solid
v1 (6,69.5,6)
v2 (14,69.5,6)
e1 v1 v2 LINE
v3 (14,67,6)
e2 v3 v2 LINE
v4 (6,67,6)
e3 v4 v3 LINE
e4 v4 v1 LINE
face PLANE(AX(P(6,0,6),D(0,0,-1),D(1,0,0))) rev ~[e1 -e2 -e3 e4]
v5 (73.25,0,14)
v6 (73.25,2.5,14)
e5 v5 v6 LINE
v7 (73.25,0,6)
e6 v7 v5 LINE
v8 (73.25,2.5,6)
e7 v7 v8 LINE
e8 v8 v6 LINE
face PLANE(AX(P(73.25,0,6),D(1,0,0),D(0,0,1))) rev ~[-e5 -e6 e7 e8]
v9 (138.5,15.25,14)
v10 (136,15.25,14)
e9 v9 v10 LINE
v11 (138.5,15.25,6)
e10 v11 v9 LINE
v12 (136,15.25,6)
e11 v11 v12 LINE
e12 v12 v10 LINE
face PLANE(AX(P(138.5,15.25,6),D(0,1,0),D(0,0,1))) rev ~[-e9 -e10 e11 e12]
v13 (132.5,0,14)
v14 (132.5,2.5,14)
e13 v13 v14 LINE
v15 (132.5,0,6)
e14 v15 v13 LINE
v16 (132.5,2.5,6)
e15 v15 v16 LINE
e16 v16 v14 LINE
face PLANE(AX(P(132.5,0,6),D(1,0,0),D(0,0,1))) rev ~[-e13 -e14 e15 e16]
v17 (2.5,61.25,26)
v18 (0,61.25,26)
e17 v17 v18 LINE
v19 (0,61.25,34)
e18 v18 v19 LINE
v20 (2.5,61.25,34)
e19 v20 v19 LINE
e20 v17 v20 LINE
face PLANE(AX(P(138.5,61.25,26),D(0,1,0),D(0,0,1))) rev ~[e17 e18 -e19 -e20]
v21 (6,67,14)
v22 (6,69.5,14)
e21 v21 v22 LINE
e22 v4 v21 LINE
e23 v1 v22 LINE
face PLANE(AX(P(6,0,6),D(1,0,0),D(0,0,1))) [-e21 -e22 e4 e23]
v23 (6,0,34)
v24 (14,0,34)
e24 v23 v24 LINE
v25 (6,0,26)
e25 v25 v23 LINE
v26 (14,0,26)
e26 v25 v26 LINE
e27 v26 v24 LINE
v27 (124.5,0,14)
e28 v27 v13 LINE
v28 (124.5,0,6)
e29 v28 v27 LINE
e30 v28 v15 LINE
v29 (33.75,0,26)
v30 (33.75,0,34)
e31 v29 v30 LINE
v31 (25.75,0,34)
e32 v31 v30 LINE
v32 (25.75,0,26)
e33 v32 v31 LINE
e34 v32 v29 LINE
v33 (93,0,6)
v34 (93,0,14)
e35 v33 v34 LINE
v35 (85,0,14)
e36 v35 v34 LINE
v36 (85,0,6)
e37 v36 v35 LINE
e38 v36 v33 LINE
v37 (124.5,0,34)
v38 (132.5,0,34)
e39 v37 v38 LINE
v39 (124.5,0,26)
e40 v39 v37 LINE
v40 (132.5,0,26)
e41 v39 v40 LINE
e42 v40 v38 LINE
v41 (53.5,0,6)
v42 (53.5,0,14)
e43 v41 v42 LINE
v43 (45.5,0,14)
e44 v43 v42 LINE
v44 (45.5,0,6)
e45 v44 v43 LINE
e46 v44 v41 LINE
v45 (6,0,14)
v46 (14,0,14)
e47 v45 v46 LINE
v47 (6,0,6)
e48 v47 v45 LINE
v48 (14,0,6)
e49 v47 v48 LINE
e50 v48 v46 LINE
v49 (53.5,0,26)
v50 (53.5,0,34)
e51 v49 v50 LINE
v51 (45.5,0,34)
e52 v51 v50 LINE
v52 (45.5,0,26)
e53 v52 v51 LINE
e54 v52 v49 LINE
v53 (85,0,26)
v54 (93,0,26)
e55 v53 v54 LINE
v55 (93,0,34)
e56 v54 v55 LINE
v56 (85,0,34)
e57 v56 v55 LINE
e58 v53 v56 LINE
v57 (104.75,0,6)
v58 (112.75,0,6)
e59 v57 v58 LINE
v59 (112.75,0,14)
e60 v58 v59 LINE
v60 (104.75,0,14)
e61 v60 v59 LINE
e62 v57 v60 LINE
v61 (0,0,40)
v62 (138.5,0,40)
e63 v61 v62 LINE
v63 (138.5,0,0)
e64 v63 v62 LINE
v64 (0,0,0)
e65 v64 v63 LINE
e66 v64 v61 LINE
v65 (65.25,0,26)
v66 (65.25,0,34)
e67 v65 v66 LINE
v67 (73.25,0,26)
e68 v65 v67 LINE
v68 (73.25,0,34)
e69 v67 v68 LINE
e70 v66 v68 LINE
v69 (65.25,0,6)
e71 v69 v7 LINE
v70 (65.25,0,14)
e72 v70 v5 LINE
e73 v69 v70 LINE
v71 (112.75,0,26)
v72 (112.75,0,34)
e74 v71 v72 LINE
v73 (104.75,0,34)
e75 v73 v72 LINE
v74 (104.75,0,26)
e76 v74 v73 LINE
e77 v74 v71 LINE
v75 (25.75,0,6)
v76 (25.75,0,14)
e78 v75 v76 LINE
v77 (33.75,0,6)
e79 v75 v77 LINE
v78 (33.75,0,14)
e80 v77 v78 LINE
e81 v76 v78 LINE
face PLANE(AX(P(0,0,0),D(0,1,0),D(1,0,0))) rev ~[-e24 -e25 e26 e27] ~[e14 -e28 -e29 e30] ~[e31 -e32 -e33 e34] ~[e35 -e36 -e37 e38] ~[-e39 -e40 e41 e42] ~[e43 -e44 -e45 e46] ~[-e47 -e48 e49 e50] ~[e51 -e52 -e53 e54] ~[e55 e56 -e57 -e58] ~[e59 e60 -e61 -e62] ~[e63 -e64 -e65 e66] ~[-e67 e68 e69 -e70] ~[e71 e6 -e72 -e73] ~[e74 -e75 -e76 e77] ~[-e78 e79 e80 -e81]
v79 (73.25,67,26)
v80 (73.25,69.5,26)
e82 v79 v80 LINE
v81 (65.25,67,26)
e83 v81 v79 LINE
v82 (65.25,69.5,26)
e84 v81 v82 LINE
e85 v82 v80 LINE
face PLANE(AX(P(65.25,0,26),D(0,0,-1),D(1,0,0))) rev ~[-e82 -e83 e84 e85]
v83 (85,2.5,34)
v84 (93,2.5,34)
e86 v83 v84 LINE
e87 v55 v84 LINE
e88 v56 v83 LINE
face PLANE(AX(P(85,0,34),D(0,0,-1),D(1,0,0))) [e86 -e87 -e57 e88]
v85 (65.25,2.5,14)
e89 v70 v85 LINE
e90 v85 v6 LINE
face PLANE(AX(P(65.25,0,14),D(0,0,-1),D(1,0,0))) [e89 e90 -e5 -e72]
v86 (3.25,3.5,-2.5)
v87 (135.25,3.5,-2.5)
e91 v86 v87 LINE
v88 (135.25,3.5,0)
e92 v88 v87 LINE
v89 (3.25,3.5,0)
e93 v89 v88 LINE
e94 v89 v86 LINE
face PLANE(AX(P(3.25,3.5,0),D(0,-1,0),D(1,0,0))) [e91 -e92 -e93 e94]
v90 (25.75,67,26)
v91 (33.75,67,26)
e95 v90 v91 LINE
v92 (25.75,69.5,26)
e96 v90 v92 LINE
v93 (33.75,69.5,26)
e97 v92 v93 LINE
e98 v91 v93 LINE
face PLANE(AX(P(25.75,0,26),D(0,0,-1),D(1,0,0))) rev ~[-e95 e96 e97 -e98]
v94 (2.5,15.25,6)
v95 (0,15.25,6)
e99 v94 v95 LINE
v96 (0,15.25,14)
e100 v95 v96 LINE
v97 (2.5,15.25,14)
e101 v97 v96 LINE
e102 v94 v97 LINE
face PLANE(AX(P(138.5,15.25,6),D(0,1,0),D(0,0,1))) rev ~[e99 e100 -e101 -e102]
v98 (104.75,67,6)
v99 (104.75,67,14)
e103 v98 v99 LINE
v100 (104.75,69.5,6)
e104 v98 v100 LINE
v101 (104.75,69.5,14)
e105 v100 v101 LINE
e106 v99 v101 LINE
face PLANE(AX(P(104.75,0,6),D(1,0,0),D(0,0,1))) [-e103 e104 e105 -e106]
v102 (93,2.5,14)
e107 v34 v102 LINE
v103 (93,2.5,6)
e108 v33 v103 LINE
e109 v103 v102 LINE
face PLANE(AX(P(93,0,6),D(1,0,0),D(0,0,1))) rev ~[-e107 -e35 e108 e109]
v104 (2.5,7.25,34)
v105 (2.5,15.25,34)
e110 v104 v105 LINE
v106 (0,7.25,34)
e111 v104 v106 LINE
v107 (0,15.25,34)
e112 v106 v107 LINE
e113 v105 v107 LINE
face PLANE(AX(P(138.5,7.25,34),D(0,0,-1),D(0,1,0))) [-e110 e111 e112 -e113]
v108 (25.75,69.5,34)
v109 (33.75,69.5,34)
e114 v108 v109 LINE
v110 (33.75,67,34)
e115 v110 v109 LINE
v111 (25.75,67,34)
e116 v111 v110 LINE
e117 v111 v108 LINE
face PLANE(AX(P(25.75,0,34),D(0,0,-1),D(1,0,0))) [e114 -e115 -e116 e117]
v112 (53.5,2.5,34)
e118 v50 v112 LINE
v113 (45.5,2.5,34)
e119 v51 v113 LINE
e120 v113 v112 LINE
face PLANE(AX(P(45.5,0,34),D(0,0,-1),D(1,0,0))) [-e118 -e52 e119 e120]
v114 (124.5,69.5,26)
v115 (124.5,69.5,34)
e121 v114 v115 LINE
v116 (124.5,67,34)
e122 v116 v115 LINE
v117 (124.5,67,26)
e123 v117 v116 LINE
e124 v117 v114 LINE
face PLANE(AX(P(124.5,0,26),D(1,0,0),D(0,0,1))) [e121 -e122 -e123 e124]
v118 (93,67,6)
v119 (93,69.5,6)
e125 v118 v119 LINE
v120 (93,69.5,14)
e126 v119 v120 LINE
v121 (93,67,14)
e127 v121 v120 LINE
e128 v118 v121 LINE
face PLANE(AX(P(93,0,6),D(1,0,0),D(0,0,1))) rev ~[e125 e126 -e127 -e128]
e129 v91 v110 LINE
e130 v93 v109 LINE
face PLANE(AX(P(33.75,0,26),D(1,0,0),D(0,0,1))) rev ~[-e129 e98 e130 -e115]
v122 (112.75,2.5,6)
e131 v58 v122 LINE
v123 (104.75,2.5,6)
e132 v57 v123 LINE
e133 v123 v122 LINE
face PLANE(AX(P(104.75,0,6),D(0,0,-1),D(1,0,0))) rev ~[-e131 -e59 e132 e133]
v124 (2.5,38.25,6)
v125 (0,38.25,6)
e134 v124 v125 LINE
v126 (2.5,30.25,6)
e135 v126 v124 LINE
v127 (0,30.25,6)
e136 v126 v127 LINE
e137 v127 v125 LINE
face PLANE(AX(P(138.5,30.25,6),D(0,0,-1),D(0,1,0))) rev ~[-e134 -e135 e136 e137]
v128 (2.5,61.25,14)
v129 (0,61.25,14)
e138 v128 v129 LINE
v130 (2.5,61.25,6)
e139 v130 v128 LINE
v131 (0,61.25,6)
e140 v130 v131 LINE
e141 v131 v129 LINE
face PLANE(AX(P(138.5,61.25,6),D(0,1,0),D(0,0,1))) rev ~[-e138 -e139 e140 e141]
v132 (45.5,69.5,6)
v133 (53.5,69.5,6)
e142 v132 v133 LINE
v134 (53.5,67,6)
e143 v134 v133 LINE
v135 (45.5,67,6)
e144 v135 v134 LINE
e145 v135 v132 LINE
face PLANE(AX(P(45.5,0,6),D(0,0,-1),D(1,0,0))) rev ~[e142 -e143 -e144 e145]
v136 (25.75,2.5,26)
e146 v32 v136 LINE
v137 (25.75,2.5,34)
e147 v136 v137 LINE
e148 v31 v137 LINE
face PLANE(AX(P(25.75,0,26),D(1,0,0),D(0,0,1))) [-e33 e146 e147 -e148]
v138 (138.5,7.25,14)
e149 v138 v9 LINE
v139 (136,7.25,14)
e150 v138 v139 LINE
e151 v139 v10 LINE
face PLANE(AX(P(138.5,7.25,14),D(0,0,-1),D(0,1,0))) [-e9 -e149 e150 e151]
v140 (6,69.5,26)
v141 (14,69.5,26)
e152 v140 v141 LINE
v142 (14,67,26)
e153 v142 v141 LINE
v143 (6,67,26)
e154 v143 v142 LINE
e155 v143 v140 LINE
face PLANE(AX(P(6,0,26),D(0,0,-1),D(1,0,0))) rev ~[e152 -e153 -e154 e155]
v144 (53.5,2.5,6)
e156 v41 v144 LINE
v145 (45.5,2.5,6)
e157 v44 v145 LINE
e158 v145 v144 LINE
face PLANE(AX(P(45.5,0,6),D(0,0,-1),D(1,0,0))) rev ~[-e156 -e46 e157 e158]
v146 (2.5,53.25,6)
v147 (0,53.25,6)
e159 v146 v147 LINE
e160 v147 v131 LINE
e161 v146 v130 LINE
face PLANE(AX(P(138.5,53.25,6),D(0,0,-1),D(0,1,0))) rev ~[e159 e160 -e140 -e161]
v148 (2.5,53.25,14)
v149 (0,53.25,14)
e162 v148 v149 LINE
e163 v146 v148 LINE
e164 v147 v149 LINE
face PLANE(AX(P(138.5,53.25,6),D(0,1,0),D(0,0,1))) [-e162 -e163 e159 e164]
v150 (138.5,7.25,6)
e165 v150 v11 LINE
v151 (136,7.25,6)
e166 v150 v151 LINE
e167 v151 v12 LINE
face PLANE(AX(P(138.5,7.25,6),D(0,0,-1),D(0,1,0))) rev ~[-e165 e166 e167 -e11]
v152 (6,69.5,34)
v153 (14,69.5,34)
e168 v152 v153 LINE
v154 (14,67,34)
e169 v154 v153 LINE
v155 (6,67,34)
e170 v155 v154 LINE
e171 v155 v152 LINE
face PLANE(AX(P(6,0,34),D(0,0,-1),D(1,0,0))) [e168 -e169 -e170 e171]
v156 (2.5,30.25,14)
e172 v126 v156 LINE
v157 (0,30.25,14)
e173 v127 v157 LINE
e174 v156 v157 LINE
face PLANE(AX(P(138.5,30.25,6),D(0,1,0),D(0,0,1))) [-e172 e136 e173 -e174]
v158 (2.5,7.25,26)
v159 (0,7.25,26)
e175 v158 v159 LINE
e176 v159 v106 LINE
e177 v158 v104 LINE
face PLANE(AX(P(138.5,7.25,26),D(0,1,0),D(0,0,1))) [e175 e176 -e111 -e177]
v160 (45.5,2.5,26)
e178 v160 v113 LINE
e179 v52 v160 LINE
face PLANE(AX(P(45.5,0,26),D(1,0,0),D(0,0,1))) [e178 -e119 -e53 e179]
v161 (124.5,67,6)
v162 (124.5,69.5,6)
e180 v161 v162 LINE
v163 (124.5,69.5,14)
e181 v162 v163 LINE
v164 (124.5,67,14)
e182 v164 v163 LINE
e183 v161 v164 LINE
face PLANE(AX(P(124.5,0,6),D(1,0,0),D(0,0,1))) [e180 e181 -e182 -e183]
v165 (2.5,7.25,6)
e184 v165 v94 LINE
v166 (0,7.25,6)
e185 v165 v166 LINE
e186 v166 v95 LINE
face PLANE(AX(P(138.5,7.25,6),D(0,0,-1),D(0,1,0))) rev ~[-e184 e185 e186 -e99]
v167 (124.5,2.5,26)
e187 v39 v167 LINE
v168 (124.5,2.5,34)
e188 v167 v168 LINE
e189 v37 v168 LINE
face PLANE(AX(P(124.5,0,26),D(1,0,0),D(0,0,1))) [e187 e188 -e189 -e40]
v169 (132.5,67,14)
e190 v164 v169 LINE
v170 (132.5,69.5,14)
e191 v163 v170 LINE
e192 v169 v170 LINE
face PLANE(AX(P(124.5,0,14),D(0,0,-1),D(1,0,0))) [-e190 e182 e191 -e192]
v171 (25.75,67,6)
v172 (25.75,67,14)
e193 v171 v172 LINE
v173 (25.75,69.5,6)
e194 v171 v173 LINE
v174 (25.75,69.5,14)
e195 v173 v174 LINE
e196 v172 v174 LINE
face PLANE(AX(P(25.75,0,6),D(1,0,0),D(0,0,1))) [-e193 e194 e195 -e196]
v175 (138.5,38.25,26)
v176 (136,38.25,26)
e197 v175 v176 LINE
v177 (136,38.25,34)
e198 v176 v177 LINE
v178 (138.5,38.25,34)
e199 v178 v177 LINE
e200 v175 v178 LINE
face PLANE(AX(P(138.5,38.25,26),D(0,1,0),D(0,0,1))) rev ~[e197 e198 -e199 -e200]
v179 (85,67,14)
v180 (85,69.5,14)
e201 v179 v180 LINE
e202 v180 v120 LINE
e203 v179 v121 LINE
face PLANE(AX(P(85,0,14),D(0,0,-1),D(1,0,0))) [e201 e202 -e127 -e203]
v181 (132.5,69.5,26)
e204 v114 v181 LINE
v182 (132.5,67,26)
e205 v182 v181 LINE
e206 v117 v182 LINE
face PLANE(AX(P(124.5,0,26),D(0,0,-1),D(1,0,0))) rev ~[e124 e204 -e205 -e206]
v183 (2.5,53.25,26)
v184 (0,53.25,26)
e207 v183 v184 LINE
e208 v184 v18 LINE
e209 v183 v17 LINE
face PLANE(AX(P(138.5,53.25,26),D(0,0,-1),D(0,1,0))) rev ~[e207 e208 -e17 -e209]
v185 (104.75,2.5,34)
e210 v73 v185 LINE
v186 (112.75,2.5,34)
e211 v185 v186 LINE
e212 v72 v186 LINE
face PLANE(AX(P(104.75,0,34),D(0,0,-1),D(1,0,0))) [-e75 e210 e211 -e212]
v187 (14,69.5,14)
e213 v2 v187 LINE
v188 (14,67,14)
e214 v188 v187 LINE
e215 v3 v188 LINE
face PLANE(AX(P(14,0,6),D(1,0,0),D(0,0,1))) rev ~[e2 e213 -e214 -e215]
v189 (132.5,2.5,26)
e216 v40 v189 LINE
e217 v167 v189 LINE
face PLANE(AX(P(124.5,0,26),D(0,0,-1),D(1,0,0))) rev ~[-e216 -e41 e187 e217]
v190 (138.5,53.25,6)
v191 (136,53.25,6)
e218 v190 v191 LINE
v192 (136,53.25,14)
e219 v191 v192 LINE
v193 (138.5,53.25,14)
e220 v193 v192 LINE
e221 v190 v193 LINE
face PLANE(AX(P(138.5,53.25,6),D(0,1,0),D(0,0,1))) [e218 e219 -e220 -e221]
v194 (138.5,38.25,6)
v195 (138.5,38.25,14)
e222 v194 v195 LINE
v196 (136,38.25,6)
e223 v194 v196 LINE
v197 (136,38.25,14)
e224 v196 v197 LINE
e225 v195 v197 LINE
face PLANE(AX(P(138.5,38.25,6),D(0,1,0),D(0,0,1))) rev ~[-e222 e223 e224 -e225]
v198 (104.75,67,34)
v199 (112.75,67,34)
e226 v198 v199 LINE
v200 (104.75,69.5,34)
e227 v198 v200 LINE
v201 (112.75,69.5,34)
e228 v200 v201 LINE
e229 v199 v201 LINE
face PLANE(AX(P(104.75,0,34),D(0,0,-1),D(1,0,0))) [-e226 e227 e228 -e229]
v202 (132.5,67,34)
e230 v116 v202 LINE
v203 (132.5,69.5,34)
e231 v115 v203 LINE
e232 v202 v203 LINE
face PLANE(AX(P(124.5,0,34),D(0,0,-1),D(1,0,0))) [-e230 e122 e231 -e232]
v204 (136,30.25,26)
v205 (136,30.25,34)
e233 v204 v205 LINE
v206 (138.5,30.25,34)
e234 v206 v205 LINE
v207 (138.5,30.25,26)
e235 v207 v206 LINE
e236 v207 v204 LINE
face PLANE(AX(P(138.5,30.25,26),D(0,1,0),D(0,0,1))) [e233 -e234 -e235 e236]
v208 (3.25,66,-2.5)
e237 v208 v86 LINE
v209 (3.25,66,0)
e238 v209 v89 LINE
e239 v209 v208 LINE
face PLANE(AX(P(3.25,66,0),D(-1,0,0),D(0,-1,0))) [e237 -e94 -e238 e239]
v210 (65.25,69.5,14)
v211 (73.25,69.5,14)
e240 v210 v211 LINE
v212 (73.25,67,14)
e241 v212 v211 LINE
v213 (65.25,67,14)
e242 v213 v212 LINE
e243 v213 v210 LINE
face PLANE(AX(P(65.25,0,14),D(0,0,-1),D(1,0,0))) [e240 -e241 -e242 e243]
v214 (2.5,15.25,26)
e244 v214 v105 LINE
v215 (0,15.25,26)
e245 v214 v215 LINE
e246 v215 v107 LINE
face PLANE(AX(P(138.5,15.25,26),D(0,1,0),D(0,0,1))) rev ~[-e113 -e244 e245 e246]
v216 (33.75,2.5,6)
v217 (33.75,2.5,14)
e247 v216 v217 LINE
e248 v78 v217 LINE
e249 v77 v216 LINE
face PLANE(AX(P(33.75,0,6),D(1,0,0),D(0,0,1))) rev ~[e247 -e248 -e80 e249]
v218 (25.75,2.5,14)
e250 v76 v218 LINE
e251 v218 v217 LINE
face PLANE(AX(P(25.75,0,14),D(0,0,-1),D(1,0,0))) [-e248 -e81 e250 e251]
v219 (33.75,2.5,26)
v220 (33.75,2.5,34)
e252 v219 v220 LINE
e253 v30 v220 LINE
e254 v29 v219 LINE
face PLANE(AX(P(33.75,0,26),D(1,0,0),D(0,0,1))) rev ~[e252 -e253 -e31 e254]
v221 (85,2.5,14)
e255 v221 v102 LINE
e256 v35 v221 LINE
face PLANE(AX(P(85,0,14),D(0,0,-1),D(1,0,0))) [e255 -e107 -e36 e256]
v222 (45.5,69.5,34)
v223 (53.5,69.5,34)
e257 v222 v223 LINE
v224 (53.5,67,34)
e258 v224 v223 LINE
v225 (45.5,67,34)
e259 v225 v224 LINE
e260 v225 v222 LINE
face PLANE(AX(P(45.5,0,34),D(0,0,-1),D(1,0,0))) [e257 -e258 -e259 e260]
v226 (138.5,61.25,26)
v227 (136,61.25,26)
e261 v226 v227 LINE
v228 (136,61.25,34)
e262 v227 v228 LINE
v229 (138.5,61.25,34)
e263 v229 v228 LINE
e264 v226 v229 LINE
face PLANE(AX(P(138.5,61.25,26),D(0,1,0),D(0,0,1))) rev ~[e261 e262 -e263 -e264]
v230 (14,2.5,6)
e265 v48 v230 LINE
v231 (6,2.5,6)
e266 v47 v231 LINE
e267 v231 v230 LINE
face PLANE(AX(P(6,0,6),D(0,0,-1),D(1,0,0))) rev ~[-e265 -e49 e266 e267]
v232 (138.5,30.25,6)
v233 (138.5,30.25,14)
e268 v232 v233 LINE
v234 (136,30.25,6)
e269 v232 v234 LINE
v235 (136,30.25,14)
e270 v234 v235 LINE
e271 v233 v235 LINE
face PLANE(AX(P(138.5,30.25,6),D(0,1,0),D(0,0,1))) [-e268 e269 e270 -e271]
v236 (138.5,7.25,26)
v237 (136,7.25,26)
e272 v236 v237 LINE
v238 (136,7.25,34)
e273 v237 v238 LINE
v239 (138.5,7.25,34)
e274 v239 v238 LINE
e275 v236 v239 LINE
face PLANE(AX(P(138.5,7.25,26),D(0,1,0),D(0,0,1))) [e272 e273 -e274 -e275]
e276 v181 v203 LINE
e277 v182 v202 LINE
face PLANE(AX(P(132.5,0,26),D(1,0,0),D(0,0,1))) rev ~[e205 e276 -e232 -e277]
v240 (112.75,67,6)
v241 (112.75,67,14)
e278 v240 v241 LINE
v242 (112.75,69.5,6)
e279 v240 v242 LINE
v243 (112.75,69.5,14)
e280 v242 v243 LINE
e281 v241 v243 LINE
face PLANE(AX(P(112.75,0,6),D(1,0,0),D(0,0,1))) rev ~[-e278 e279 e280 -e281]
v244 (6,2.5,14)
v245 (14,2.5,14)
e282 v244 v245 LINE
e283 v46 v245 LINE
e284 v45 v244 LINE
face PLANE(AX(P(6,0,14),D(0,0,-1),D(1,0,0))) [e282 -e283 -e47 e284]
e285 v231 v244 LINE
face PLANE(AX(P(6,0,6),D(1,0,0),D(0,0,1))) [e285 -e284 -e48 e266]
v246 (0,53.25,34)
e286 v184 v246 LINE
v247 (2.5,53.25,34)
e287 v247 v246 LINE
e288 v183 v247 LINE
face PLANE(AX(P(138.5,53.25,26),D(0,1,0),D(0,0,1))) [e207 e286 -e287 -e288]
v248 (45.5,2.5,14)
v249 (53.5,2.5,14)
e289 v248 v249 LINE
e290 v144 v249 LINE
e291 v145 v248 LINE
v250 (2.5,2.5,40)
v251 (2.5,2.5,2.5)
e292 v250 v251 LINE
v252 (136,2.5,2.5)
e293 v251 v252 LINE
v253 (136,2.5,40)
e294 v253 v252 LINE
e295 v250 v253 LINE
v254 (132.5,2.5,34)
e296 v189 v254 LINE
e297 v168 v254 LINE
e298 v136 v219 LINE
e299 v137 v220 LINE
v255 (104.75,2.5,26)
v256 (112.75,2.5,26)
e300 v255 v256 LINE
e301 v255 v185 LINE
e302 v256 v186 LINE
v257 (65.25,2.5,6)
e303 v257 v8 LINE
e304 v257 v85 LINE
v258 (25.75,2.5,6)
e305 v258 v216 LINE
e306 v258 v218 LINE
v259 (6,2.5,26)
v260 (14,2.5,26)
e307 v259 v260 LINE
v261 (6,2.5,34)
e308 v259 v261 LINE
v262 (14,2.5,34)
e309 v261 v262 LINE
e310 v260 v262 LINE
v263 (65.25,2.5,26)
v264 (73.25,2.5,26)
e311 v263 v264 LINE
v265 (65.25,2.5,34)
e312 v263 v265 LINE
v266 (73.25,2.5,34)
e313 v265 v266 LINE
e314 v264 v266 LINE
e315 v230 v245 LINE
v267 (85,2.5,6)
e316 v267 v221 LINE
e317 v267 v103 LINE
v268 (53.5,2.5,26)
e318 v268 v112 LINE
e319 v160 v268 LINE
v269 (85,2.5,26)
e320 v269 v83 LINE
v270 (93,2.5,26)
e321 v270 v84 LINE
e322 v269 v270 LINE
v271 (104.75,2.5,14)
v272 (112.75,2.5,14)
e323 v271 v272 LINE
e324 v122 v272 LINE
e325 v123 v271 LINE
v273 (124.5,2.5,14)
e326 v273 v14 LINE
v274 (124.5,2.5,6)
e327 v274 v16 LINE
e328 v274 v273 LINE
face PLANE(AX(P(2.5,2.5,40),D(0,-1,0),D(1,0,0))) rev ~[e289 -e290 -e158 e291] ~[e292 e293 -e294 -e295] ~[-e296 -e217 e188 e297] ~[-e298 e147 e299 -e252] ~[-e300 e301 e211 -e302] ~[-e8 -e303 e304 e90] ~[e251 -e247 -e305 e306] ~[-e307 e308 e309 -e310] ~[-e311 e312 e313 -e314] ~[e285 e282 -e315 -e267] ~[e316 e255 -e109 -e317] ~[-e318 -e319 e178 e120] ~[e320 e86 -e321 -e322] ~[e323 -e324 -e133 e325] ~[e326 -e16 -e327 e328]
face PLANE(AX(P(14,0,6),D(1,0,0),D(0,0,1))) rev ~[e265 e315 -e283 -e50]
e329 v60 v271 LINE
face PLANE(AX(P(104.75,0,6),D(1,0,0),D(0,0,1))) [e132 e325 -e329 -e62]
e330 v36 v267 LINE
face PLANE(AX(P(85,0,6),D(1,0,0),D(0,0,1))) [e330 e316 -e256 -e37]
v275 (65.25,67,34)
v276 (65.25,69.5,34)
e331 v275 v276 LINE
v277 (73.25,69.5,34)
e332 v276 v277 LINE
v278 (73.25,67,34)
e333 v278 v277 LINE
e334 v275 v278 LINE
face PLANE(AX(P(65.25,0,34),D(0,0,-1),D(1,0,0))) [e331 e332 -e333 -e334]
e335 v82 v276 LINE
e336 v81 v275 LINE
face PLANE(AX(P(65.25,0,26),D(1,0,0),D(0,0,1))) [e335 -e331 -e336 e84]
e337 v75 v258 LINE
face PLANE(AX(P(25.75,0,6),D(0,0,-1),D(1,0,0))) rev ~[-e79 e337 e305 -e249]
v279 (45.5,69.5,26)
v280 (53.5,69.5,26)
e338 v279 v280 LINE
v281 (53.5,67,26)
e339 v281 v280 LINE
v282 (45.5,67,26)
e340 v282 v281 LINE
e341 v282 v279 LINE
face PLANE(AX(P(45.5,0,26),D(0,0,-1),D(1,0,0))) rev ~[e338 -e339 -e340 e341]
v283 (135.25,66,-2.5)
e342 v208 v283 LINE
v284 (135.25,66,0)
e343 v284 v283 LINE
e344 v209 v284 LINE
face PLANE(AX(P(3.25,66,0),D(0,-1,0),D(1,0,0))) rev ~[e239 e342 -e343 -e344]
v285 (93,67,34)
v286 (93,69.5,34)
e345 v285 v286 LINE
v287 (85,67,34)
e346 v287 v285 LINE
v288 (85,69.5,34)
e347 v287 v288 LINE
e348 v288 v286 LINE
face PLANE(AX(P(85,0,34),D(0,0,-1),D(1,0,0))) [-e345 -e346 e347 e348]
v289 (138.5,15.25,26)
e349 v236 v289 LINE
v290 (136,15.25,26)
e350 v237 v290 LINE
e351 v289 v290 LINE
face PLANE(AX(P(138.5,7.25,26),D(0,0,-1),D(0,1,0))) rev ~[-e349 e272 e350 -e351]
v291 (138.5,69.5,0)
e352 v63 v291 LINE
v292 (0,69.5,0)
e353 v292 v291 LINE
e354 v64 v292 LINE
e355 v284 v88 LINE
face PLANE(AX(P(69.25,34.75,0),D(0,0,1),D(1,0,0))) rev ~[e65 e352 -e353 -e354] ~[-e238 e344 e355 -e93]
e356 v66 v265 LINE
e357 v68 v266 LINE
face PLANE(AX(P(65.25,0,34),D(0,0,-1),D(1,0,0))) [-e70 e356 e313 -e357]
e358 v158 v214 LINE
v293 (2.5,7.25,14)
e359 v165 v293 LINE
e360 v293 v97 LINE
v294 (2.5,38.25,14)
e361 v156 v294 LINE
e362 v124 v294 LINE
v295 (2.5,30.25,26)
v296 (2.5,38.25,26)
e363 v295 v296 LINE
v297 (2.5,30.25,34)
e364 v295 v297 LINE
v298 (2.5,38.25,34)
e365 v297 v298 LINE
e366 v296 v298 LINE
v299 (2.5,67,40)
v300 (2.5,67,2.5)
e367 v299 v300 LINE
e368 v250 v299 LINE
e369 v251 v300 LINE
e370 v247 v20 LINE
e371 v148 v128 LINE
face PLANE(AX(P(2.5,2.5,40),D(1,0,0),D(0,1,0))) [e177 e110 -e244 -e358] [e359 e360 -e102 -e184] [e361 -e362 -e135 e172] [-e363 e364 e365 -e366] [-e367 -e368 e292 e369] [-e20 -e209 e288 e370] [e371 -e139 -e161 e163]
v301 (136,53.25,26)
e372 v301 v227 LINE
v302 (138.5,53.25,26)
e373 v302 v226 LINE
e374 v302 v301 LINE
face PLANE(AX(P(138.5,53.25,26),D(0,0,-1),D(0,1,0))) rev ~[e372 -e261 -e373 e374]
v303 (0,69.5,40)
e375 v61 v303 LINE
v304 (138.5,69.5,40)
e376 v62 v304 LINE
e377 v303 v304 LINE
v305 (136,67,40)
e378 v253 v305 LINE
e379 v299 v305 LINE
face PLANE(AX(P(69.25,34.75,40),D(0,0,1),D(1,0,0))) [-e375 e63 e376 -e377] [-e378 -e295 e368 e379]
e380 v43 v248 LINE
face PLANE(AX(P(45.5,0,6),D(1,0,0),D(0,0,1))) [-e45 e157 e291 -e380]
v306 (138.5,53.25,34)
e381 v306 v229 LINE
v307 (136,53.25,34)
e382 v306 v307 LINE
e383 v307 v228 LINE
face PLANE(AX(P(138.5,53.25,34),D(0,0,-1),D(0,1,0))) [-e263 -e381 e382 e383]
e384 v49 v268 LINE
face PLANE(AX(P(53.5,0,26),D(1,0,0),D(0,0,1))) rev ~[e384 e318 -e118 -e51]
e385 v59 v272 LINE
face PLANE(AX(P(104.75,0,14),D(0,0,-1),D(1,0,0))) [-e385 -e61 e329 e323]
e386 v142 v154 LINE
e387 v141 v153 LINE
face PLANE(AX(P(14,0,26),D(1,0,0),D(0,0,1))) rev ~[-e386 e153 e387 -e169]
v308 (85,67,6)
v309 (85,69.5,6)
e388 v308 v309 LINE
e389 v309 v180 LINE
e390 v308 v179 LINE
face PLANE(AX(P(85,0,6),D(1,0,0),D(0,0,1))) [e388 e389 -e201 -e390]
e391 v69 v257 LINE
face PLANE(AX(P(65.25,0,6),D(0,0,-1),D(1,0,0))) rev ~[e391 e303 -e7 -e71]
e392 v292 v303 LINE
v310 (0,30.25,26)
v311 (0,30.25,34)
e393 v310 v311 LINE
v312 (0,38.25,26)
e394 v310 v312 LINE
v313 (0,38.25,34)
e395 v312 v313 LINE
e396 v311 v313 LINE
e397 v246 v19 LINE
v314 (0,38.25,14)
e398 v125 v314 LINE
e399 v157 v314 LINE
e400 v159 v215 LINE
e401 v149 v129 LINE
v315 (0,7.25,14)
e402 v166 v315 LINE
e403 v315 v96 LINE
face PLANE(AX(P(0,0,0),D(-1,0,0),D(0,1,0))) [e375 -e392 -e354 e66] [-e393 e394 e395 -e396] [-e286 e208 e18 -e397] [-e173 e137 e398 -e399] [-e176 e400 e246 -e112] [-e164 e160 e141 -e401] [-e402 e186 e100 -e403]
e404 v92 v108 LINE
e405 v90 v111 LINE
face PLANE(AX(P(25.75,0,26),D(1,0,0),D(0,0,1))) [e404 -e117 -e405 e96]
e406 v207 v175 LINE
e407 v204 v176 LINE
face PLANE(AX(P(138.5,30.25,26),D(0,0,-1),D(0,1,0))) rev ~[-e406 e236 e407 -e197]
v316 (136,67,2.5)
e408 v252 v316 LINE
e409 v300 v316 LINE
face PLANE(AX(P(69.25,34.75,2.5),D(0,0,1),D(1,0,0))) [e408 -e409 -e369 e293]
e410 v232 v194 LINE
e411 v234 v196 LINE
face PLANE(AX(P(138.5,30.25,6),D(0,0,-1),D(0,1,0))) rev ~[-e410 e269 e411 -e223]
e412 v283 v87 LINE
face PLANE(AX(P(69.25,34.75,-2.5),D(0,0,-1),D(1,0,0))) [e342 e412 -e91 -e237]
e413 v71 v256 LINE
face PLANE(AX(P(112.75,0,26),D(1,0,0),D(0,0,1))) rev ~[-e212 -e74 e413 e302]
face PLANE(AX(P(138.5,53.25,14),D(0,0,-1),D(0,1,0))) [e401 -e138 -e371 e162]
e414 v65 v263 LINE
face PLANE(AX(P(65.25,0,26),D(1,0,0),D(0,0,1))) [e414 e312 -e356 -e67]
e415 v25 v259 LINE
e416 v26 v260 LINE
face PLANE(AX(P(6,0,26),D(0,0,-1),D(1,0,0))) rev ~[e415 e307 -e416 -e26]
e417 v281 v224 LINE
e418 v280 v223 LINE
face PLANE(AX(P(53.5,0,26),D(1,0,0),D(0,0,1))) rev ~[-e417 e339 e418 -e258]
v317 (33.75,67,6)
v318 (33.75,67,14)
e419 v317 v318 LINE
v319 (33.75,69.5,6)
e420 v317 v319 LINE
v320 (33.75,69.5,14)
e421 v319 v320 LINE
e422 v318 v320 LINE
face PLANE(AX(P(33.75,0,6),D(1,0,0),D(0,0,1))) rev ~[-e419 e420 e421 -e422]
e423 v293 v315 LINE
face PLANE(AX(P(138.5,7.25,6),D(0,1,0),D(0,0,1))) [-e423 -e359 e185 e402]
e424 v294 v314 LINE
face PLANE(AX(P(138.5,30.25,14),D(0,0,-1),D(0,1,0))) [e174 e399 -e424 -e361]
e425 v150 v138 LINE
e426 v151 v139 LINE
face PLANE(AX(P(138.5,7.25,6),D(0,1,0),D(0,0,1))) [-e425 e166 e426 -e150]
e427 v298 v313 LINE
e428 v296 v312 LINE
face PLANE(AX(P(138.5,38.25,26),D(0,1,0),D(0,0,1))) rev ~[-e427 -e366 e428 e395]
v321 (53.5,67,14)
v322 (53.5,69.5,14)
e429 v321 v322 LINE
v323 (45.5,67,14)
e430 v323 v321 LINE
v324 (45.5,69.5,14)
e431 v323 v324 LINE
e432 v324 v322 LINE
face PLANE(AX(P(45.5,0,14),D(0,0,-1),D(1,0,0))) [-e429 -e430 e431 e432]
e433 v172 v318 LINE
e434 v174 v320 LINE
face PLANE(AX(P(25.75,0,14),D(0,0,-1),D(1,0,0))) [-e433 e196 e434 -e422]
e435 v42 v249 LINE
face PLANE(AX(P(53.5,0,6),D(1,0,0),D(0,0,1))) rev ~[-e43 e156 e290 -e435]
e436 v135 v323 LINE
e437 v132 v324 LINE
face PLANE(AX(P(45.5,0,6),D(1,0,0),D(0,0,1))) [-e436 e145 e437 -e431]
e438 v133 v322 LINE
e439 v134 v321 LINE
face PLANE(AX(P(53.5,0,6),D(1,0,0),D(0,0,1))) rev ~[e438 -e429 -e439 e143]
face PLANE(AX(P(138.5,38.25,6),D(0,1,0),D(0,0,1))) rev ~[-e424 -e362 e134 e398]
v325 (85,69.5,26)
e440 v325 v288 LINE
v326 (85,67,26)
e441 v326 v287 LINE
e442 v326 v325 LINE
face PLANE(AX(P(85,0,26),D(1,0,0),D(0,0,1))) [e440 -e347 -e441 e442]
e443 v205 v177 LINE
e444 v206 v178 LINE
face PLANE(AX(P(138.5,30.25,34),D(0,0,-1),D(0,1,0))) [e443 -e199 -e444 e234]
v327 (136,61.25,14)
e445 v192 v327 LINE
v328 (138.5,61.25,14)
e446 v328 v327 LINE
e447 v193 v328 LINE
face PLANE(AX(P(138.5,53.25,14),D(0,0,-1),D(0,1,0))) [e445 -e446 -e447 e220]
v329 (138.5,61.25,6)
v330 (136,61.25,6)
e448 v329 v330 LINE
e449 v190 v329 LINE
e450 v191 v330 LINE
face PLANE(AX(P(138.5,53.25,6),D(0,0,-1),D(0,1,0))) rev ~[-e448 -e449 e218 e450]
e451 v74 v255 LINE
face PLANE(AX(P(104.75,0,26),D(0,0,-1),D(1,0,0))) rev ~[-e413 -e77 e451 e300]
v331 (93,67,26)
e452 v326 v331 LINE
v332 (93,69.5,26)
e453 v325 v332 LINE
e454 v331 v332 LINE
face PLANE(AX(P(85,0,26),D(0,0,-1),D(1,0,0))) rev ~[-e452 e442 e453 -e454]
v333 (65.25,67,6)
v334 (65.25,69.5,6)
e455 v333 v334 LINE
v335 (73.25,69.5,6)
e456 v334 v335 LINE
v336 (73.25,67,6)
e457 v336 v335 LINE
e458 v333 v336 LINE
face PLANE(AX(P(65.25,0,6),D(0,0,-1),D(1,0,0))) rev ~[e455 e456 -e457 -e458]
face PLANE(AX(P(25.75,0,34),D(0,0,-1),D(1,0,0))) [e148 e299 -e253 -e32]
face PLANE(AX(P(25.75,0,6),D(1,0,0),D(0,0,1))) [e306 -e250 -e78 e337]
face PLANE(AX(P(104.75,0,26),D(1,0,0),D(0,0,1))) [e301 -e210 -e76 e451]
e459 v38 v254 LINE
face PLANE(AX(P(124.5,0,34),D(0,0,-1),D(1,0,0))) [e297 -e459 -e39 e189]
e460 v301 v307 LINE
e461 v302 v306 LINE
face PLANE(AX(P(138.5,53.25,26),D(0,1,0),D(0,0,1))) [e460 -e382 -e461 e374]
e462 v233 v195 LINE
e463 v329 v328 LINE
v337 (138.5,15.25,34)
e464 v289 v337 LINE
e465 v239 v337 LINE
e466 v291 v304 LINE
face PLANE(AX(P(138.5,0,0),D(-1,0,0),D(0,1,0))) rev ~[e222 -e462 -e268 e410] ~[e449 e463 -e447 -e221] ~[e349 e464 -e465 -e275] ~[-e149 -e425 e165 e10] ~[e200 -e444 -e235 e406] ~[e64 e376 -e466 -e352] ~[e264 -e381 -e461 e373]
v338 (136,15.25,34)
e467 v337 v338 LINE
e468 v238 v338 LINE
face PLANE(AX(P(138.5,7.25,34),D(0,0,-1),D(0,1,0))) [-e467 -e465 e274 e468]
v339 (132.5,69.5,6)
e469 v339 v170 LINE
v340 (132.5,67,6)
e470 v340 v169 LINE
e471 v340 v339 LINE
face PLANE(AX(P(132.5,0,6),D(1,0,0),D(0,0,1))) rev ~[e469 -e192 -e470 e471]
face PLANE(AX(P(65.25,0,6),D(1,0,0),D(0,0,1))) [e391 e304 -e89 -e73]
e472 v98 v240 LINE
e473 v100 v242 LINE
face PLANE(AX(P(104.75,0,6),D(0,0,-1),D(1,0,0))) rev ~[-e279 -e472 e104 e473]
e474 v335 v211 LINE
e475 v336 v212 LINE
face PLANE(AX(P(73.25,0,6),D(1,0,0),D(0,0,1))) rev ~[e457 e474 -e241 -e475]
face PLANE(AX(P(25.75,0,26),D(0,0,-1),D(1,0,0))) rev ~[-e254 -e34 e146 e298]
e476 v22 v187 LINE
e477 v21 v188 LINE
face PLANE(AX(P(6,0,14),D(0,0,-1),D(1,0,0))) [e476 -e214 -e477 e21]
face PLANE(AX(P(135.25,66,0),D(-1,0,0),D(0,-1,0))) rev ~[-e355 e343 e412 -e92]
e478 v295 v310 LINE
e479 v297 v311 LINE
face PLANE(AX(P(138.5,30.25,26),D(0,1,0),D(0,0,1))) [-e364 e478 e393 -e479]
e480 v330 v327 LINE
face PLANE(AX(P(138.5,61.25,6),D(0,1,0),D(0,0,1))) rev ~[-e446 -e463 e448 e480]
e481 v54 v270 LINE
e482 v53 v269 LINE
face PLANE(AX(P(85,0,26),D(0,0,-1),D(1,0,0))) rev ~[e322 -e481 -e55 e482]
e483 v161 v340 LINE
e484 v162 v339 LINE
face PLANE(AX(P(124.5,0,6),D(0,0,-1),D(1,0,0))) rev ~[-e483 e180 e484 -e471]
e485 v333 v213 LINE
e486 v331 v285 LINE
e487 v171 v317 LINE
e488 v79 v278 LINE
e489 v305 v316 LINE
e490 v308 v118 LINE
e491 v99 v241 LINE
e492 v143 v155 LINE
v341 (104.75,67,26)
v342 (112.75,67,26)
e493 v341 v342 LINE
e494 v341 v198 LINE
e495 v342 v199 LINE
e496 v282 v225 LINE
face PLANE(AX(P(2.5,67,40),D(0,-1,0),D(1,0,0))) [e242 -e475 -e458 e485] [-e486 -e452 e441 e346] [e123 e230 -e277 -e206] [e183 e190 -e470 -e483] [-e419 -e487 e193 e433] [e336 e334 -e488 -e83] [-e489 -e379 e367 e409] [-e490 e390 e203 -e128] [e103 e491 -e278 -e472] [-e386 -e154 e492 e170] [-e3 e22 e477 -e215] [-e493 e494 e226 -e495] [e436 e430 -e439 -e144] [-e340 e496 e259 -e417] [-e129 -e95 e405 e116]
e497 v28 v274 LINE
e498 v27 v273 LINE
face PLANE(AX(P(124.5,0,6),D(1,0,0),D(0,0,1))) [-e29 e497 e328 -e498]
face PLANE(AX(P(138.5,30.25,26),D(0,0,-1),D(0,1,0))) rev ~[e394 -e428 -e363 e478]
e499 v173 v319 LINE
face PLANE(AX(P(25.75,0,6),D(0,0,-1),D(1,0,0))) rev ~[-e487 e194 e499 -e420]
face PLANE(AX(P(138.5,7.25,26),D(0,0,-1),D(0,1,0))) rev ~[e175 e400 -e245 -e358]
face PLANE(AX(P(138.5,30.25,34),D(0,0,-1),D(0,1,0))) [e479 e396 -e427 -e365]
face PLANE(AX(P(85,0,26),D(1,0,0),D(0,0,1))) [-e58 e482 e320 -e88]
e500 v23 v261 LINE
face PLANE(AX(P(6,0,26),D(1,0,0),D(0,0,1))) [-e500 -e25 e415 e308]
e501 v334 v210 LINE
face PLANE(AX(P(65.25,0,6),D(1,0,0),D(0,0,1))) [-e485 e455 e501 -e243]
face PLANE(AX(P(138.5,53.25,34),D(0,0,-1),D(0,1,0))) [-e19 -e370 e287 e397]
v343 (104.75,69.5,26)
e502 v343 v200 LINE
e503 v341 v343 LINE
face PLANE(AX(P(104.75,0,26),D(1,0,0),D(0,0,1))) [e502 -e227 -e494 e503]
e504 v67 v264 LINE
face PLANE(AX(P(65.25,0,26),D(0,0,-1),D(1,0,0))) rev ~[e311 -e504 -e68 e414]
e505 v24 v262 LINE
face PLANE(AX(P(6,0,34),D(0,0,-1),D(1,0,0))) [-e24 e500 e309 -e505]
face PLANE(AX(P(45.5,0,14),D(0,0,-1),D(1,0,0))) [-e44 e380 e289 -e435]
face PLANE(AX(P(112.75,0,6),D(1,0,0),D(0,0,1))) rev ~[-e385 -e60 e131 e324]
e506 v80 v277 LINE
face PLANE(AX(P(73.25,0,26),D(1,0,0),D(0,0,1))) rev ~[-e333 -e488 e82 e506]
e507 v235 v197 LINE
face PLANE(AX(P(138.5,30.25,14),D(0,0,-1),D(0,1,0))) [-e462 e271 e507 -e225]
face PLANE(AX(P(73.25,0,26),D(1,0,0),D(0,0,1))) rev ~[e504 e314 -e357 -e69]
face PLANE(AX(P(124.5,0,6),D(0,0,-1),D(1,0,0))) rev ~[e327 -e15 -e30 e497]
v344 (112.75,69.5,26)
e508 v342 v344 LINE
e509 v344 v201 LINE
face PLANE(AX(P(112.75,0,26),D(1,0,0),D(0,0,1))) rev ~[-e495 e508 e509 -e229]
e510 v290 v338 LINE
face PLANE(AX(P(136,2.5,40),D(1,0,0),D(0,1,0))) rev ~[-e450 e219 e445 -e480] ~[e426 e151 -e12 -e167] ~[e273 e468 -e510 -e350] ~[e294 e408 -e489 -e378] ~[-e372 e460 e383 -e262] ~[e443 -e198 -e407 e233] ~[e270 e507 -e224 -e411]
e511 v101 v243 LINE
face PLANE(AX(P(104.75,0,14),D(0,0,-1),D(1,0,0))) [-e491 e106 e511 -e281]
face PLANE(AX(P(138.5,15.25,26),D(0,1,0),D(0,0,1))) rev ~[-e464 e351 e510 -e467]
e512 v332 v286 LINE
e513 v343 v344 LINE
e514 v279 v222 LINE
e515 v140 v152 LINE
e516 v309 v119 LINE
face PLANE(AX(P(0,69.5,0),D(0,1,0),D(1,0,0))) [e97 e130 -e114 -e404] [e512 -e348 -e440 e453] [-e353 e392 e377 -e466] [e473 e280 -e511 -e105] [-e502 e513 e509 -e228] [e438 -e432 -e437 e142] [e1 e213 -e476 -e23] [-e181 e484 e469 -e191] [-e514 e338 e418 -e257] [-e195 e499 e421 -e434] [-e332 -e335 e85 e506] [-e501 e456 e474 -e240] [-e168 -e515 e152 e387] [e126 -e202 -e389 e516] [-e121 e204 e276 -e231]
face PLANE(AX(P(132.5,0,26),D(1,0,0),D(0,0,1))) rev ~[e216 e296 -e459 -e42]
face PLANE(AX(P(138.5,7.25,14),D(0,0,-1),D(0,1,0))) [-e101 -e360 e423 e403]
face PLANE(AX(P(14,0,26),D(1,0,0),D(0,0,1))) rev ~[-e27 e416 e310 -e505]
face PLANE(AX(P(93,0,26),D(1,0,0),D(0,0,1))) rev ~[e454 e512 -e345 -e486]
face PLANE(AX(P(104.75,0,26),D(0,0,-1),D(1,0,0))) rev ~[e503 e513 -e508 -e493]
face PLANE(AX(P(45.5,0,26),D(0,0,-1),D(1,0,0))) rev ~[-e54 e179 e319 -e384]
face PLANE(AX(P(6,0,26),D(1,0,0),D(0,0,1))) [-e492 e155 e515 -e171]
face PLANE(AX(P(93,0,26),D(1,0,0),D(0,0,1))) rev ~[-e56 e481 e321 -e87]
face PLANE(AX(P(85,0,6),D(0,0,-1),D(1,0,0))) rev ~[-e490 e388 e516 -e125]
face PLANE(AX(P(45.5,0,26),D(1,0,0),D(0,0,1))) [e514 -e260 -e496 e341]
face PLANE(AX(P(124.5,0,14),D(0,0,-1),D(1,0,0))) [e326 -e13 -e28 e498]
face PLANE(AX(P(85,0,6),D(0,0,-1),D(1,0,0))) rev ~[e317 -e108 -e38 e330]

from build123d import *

# Parameters (mm, degrees)
F0_W     = 138.5
F0_H     = 69.5
F1_DEPTH = 40
F2_W     = 133.5
F2_H     = 64.5
F3_DEPTH = 37.5
F4_W     = 132
F4_H     = 62.5
F5_DEPTH = 2.5
F6_W     = 8
F6_H     = 8
F7_DEPTH = 138.5
F8_W     = 8
F8_H     = 8
F9_DEPTH = 69.5


with BuildPart() as f1:
    # F0 (on Top) → F1 (new body)
    with BuildSketch(Plane.XY):
        with Locations((69.25, 34.75)):
            Rectangle(F0_W, F0_H)
    extrude(amount=F1_DEPTH)

    # F2 (on face) → F3 (cut)
    with BuildSketch(Plane.XY.offset(40)):
        with Locations((69.25, 34.75)):
            Rectangle(F2_W, F2_H)
    extrude(amount=-F3_DEPTH, mode=Mode.SUBTRACT)

    # F4 (on face) → F5 (join)
    with BuildSketch(Plane(origin=(0, 0, 0), x_dir=(1, 0, 0), z_dir=(0, 0, -1))):
        with Locations((69.25, -34.75)):
            Rectangle(F4_W, F4_H)
    extrude(amount=F5_DEPTH)

    # F6 (on face) → F7 (cut)
    with BuildSketch(Plane.YZ.offset(138.5)):
        with Locations((11.25, 30)):
            Rectangle(F6_W, F6_H)
        with Locations((11.25, 10)):
            Rectangle(F6_W, F6_H)
        with Locations((57.25, 10)):
            Rectangle(F6_W, F6_H)
        with Locations((57.25, 30)):
            Rectangle(F6_W, F6_H)
        with Locations((34.25, 30)):
            Rectangle(F6_W, F6_H)
        with Locations((34.25, 10)):
            Rectangle(F6_W, F6_H)
    extrude(amount=-F7_DEPTH, mode=Mode.SUBTRACT)

    # F8 (on face) → F9 (cut)
    with BuildSketch(Plane.XZ):
        with Locations((10, 30)):
            Rectangle(F8_W, F8_H)
        with Locations((10, 10)):
            Rectangle(F8_W, F8_H)
        with Locations((29.75, 10)):
            Rectangle(F8_W, F8_H)
        with Locations((29.75, 30)):
            Rectangle(F8_W, F8_H)
        with Locations((49.5, 30)):
            Rectangle(F8_W, F8_H)
        with Locations((49.5, 10)):
            Rectangle(F8_W, F8_H)
        with Locations((69.25, 10)):
            Rectangle(F8_W, F8_H)
        with Locations((69.25, 30)):
            Rectangle(F8_W, F8_H)
        with Locations((89, 30)):
            Rectangle(F8_W, F8_H)
        with Locations((89, 10)):
            Rectangle(F8_W, F8_H)
        with Locations((108.75, 10)):
            Rectangle(F8_W, F8_H)
        with Locations((108.75, 30)):
            Rectangle(F8_W, F8_H)
        with Locations((128.5, 30)):
            Rectangle(F8_W, F8_H)
        with Locations((128.5, 10)):
            Rectangle(F8_W, F8_H)
    extrude(amount=-F9_DEPTH, mode=Mode.SUBTRACT)


solid = f1.part
